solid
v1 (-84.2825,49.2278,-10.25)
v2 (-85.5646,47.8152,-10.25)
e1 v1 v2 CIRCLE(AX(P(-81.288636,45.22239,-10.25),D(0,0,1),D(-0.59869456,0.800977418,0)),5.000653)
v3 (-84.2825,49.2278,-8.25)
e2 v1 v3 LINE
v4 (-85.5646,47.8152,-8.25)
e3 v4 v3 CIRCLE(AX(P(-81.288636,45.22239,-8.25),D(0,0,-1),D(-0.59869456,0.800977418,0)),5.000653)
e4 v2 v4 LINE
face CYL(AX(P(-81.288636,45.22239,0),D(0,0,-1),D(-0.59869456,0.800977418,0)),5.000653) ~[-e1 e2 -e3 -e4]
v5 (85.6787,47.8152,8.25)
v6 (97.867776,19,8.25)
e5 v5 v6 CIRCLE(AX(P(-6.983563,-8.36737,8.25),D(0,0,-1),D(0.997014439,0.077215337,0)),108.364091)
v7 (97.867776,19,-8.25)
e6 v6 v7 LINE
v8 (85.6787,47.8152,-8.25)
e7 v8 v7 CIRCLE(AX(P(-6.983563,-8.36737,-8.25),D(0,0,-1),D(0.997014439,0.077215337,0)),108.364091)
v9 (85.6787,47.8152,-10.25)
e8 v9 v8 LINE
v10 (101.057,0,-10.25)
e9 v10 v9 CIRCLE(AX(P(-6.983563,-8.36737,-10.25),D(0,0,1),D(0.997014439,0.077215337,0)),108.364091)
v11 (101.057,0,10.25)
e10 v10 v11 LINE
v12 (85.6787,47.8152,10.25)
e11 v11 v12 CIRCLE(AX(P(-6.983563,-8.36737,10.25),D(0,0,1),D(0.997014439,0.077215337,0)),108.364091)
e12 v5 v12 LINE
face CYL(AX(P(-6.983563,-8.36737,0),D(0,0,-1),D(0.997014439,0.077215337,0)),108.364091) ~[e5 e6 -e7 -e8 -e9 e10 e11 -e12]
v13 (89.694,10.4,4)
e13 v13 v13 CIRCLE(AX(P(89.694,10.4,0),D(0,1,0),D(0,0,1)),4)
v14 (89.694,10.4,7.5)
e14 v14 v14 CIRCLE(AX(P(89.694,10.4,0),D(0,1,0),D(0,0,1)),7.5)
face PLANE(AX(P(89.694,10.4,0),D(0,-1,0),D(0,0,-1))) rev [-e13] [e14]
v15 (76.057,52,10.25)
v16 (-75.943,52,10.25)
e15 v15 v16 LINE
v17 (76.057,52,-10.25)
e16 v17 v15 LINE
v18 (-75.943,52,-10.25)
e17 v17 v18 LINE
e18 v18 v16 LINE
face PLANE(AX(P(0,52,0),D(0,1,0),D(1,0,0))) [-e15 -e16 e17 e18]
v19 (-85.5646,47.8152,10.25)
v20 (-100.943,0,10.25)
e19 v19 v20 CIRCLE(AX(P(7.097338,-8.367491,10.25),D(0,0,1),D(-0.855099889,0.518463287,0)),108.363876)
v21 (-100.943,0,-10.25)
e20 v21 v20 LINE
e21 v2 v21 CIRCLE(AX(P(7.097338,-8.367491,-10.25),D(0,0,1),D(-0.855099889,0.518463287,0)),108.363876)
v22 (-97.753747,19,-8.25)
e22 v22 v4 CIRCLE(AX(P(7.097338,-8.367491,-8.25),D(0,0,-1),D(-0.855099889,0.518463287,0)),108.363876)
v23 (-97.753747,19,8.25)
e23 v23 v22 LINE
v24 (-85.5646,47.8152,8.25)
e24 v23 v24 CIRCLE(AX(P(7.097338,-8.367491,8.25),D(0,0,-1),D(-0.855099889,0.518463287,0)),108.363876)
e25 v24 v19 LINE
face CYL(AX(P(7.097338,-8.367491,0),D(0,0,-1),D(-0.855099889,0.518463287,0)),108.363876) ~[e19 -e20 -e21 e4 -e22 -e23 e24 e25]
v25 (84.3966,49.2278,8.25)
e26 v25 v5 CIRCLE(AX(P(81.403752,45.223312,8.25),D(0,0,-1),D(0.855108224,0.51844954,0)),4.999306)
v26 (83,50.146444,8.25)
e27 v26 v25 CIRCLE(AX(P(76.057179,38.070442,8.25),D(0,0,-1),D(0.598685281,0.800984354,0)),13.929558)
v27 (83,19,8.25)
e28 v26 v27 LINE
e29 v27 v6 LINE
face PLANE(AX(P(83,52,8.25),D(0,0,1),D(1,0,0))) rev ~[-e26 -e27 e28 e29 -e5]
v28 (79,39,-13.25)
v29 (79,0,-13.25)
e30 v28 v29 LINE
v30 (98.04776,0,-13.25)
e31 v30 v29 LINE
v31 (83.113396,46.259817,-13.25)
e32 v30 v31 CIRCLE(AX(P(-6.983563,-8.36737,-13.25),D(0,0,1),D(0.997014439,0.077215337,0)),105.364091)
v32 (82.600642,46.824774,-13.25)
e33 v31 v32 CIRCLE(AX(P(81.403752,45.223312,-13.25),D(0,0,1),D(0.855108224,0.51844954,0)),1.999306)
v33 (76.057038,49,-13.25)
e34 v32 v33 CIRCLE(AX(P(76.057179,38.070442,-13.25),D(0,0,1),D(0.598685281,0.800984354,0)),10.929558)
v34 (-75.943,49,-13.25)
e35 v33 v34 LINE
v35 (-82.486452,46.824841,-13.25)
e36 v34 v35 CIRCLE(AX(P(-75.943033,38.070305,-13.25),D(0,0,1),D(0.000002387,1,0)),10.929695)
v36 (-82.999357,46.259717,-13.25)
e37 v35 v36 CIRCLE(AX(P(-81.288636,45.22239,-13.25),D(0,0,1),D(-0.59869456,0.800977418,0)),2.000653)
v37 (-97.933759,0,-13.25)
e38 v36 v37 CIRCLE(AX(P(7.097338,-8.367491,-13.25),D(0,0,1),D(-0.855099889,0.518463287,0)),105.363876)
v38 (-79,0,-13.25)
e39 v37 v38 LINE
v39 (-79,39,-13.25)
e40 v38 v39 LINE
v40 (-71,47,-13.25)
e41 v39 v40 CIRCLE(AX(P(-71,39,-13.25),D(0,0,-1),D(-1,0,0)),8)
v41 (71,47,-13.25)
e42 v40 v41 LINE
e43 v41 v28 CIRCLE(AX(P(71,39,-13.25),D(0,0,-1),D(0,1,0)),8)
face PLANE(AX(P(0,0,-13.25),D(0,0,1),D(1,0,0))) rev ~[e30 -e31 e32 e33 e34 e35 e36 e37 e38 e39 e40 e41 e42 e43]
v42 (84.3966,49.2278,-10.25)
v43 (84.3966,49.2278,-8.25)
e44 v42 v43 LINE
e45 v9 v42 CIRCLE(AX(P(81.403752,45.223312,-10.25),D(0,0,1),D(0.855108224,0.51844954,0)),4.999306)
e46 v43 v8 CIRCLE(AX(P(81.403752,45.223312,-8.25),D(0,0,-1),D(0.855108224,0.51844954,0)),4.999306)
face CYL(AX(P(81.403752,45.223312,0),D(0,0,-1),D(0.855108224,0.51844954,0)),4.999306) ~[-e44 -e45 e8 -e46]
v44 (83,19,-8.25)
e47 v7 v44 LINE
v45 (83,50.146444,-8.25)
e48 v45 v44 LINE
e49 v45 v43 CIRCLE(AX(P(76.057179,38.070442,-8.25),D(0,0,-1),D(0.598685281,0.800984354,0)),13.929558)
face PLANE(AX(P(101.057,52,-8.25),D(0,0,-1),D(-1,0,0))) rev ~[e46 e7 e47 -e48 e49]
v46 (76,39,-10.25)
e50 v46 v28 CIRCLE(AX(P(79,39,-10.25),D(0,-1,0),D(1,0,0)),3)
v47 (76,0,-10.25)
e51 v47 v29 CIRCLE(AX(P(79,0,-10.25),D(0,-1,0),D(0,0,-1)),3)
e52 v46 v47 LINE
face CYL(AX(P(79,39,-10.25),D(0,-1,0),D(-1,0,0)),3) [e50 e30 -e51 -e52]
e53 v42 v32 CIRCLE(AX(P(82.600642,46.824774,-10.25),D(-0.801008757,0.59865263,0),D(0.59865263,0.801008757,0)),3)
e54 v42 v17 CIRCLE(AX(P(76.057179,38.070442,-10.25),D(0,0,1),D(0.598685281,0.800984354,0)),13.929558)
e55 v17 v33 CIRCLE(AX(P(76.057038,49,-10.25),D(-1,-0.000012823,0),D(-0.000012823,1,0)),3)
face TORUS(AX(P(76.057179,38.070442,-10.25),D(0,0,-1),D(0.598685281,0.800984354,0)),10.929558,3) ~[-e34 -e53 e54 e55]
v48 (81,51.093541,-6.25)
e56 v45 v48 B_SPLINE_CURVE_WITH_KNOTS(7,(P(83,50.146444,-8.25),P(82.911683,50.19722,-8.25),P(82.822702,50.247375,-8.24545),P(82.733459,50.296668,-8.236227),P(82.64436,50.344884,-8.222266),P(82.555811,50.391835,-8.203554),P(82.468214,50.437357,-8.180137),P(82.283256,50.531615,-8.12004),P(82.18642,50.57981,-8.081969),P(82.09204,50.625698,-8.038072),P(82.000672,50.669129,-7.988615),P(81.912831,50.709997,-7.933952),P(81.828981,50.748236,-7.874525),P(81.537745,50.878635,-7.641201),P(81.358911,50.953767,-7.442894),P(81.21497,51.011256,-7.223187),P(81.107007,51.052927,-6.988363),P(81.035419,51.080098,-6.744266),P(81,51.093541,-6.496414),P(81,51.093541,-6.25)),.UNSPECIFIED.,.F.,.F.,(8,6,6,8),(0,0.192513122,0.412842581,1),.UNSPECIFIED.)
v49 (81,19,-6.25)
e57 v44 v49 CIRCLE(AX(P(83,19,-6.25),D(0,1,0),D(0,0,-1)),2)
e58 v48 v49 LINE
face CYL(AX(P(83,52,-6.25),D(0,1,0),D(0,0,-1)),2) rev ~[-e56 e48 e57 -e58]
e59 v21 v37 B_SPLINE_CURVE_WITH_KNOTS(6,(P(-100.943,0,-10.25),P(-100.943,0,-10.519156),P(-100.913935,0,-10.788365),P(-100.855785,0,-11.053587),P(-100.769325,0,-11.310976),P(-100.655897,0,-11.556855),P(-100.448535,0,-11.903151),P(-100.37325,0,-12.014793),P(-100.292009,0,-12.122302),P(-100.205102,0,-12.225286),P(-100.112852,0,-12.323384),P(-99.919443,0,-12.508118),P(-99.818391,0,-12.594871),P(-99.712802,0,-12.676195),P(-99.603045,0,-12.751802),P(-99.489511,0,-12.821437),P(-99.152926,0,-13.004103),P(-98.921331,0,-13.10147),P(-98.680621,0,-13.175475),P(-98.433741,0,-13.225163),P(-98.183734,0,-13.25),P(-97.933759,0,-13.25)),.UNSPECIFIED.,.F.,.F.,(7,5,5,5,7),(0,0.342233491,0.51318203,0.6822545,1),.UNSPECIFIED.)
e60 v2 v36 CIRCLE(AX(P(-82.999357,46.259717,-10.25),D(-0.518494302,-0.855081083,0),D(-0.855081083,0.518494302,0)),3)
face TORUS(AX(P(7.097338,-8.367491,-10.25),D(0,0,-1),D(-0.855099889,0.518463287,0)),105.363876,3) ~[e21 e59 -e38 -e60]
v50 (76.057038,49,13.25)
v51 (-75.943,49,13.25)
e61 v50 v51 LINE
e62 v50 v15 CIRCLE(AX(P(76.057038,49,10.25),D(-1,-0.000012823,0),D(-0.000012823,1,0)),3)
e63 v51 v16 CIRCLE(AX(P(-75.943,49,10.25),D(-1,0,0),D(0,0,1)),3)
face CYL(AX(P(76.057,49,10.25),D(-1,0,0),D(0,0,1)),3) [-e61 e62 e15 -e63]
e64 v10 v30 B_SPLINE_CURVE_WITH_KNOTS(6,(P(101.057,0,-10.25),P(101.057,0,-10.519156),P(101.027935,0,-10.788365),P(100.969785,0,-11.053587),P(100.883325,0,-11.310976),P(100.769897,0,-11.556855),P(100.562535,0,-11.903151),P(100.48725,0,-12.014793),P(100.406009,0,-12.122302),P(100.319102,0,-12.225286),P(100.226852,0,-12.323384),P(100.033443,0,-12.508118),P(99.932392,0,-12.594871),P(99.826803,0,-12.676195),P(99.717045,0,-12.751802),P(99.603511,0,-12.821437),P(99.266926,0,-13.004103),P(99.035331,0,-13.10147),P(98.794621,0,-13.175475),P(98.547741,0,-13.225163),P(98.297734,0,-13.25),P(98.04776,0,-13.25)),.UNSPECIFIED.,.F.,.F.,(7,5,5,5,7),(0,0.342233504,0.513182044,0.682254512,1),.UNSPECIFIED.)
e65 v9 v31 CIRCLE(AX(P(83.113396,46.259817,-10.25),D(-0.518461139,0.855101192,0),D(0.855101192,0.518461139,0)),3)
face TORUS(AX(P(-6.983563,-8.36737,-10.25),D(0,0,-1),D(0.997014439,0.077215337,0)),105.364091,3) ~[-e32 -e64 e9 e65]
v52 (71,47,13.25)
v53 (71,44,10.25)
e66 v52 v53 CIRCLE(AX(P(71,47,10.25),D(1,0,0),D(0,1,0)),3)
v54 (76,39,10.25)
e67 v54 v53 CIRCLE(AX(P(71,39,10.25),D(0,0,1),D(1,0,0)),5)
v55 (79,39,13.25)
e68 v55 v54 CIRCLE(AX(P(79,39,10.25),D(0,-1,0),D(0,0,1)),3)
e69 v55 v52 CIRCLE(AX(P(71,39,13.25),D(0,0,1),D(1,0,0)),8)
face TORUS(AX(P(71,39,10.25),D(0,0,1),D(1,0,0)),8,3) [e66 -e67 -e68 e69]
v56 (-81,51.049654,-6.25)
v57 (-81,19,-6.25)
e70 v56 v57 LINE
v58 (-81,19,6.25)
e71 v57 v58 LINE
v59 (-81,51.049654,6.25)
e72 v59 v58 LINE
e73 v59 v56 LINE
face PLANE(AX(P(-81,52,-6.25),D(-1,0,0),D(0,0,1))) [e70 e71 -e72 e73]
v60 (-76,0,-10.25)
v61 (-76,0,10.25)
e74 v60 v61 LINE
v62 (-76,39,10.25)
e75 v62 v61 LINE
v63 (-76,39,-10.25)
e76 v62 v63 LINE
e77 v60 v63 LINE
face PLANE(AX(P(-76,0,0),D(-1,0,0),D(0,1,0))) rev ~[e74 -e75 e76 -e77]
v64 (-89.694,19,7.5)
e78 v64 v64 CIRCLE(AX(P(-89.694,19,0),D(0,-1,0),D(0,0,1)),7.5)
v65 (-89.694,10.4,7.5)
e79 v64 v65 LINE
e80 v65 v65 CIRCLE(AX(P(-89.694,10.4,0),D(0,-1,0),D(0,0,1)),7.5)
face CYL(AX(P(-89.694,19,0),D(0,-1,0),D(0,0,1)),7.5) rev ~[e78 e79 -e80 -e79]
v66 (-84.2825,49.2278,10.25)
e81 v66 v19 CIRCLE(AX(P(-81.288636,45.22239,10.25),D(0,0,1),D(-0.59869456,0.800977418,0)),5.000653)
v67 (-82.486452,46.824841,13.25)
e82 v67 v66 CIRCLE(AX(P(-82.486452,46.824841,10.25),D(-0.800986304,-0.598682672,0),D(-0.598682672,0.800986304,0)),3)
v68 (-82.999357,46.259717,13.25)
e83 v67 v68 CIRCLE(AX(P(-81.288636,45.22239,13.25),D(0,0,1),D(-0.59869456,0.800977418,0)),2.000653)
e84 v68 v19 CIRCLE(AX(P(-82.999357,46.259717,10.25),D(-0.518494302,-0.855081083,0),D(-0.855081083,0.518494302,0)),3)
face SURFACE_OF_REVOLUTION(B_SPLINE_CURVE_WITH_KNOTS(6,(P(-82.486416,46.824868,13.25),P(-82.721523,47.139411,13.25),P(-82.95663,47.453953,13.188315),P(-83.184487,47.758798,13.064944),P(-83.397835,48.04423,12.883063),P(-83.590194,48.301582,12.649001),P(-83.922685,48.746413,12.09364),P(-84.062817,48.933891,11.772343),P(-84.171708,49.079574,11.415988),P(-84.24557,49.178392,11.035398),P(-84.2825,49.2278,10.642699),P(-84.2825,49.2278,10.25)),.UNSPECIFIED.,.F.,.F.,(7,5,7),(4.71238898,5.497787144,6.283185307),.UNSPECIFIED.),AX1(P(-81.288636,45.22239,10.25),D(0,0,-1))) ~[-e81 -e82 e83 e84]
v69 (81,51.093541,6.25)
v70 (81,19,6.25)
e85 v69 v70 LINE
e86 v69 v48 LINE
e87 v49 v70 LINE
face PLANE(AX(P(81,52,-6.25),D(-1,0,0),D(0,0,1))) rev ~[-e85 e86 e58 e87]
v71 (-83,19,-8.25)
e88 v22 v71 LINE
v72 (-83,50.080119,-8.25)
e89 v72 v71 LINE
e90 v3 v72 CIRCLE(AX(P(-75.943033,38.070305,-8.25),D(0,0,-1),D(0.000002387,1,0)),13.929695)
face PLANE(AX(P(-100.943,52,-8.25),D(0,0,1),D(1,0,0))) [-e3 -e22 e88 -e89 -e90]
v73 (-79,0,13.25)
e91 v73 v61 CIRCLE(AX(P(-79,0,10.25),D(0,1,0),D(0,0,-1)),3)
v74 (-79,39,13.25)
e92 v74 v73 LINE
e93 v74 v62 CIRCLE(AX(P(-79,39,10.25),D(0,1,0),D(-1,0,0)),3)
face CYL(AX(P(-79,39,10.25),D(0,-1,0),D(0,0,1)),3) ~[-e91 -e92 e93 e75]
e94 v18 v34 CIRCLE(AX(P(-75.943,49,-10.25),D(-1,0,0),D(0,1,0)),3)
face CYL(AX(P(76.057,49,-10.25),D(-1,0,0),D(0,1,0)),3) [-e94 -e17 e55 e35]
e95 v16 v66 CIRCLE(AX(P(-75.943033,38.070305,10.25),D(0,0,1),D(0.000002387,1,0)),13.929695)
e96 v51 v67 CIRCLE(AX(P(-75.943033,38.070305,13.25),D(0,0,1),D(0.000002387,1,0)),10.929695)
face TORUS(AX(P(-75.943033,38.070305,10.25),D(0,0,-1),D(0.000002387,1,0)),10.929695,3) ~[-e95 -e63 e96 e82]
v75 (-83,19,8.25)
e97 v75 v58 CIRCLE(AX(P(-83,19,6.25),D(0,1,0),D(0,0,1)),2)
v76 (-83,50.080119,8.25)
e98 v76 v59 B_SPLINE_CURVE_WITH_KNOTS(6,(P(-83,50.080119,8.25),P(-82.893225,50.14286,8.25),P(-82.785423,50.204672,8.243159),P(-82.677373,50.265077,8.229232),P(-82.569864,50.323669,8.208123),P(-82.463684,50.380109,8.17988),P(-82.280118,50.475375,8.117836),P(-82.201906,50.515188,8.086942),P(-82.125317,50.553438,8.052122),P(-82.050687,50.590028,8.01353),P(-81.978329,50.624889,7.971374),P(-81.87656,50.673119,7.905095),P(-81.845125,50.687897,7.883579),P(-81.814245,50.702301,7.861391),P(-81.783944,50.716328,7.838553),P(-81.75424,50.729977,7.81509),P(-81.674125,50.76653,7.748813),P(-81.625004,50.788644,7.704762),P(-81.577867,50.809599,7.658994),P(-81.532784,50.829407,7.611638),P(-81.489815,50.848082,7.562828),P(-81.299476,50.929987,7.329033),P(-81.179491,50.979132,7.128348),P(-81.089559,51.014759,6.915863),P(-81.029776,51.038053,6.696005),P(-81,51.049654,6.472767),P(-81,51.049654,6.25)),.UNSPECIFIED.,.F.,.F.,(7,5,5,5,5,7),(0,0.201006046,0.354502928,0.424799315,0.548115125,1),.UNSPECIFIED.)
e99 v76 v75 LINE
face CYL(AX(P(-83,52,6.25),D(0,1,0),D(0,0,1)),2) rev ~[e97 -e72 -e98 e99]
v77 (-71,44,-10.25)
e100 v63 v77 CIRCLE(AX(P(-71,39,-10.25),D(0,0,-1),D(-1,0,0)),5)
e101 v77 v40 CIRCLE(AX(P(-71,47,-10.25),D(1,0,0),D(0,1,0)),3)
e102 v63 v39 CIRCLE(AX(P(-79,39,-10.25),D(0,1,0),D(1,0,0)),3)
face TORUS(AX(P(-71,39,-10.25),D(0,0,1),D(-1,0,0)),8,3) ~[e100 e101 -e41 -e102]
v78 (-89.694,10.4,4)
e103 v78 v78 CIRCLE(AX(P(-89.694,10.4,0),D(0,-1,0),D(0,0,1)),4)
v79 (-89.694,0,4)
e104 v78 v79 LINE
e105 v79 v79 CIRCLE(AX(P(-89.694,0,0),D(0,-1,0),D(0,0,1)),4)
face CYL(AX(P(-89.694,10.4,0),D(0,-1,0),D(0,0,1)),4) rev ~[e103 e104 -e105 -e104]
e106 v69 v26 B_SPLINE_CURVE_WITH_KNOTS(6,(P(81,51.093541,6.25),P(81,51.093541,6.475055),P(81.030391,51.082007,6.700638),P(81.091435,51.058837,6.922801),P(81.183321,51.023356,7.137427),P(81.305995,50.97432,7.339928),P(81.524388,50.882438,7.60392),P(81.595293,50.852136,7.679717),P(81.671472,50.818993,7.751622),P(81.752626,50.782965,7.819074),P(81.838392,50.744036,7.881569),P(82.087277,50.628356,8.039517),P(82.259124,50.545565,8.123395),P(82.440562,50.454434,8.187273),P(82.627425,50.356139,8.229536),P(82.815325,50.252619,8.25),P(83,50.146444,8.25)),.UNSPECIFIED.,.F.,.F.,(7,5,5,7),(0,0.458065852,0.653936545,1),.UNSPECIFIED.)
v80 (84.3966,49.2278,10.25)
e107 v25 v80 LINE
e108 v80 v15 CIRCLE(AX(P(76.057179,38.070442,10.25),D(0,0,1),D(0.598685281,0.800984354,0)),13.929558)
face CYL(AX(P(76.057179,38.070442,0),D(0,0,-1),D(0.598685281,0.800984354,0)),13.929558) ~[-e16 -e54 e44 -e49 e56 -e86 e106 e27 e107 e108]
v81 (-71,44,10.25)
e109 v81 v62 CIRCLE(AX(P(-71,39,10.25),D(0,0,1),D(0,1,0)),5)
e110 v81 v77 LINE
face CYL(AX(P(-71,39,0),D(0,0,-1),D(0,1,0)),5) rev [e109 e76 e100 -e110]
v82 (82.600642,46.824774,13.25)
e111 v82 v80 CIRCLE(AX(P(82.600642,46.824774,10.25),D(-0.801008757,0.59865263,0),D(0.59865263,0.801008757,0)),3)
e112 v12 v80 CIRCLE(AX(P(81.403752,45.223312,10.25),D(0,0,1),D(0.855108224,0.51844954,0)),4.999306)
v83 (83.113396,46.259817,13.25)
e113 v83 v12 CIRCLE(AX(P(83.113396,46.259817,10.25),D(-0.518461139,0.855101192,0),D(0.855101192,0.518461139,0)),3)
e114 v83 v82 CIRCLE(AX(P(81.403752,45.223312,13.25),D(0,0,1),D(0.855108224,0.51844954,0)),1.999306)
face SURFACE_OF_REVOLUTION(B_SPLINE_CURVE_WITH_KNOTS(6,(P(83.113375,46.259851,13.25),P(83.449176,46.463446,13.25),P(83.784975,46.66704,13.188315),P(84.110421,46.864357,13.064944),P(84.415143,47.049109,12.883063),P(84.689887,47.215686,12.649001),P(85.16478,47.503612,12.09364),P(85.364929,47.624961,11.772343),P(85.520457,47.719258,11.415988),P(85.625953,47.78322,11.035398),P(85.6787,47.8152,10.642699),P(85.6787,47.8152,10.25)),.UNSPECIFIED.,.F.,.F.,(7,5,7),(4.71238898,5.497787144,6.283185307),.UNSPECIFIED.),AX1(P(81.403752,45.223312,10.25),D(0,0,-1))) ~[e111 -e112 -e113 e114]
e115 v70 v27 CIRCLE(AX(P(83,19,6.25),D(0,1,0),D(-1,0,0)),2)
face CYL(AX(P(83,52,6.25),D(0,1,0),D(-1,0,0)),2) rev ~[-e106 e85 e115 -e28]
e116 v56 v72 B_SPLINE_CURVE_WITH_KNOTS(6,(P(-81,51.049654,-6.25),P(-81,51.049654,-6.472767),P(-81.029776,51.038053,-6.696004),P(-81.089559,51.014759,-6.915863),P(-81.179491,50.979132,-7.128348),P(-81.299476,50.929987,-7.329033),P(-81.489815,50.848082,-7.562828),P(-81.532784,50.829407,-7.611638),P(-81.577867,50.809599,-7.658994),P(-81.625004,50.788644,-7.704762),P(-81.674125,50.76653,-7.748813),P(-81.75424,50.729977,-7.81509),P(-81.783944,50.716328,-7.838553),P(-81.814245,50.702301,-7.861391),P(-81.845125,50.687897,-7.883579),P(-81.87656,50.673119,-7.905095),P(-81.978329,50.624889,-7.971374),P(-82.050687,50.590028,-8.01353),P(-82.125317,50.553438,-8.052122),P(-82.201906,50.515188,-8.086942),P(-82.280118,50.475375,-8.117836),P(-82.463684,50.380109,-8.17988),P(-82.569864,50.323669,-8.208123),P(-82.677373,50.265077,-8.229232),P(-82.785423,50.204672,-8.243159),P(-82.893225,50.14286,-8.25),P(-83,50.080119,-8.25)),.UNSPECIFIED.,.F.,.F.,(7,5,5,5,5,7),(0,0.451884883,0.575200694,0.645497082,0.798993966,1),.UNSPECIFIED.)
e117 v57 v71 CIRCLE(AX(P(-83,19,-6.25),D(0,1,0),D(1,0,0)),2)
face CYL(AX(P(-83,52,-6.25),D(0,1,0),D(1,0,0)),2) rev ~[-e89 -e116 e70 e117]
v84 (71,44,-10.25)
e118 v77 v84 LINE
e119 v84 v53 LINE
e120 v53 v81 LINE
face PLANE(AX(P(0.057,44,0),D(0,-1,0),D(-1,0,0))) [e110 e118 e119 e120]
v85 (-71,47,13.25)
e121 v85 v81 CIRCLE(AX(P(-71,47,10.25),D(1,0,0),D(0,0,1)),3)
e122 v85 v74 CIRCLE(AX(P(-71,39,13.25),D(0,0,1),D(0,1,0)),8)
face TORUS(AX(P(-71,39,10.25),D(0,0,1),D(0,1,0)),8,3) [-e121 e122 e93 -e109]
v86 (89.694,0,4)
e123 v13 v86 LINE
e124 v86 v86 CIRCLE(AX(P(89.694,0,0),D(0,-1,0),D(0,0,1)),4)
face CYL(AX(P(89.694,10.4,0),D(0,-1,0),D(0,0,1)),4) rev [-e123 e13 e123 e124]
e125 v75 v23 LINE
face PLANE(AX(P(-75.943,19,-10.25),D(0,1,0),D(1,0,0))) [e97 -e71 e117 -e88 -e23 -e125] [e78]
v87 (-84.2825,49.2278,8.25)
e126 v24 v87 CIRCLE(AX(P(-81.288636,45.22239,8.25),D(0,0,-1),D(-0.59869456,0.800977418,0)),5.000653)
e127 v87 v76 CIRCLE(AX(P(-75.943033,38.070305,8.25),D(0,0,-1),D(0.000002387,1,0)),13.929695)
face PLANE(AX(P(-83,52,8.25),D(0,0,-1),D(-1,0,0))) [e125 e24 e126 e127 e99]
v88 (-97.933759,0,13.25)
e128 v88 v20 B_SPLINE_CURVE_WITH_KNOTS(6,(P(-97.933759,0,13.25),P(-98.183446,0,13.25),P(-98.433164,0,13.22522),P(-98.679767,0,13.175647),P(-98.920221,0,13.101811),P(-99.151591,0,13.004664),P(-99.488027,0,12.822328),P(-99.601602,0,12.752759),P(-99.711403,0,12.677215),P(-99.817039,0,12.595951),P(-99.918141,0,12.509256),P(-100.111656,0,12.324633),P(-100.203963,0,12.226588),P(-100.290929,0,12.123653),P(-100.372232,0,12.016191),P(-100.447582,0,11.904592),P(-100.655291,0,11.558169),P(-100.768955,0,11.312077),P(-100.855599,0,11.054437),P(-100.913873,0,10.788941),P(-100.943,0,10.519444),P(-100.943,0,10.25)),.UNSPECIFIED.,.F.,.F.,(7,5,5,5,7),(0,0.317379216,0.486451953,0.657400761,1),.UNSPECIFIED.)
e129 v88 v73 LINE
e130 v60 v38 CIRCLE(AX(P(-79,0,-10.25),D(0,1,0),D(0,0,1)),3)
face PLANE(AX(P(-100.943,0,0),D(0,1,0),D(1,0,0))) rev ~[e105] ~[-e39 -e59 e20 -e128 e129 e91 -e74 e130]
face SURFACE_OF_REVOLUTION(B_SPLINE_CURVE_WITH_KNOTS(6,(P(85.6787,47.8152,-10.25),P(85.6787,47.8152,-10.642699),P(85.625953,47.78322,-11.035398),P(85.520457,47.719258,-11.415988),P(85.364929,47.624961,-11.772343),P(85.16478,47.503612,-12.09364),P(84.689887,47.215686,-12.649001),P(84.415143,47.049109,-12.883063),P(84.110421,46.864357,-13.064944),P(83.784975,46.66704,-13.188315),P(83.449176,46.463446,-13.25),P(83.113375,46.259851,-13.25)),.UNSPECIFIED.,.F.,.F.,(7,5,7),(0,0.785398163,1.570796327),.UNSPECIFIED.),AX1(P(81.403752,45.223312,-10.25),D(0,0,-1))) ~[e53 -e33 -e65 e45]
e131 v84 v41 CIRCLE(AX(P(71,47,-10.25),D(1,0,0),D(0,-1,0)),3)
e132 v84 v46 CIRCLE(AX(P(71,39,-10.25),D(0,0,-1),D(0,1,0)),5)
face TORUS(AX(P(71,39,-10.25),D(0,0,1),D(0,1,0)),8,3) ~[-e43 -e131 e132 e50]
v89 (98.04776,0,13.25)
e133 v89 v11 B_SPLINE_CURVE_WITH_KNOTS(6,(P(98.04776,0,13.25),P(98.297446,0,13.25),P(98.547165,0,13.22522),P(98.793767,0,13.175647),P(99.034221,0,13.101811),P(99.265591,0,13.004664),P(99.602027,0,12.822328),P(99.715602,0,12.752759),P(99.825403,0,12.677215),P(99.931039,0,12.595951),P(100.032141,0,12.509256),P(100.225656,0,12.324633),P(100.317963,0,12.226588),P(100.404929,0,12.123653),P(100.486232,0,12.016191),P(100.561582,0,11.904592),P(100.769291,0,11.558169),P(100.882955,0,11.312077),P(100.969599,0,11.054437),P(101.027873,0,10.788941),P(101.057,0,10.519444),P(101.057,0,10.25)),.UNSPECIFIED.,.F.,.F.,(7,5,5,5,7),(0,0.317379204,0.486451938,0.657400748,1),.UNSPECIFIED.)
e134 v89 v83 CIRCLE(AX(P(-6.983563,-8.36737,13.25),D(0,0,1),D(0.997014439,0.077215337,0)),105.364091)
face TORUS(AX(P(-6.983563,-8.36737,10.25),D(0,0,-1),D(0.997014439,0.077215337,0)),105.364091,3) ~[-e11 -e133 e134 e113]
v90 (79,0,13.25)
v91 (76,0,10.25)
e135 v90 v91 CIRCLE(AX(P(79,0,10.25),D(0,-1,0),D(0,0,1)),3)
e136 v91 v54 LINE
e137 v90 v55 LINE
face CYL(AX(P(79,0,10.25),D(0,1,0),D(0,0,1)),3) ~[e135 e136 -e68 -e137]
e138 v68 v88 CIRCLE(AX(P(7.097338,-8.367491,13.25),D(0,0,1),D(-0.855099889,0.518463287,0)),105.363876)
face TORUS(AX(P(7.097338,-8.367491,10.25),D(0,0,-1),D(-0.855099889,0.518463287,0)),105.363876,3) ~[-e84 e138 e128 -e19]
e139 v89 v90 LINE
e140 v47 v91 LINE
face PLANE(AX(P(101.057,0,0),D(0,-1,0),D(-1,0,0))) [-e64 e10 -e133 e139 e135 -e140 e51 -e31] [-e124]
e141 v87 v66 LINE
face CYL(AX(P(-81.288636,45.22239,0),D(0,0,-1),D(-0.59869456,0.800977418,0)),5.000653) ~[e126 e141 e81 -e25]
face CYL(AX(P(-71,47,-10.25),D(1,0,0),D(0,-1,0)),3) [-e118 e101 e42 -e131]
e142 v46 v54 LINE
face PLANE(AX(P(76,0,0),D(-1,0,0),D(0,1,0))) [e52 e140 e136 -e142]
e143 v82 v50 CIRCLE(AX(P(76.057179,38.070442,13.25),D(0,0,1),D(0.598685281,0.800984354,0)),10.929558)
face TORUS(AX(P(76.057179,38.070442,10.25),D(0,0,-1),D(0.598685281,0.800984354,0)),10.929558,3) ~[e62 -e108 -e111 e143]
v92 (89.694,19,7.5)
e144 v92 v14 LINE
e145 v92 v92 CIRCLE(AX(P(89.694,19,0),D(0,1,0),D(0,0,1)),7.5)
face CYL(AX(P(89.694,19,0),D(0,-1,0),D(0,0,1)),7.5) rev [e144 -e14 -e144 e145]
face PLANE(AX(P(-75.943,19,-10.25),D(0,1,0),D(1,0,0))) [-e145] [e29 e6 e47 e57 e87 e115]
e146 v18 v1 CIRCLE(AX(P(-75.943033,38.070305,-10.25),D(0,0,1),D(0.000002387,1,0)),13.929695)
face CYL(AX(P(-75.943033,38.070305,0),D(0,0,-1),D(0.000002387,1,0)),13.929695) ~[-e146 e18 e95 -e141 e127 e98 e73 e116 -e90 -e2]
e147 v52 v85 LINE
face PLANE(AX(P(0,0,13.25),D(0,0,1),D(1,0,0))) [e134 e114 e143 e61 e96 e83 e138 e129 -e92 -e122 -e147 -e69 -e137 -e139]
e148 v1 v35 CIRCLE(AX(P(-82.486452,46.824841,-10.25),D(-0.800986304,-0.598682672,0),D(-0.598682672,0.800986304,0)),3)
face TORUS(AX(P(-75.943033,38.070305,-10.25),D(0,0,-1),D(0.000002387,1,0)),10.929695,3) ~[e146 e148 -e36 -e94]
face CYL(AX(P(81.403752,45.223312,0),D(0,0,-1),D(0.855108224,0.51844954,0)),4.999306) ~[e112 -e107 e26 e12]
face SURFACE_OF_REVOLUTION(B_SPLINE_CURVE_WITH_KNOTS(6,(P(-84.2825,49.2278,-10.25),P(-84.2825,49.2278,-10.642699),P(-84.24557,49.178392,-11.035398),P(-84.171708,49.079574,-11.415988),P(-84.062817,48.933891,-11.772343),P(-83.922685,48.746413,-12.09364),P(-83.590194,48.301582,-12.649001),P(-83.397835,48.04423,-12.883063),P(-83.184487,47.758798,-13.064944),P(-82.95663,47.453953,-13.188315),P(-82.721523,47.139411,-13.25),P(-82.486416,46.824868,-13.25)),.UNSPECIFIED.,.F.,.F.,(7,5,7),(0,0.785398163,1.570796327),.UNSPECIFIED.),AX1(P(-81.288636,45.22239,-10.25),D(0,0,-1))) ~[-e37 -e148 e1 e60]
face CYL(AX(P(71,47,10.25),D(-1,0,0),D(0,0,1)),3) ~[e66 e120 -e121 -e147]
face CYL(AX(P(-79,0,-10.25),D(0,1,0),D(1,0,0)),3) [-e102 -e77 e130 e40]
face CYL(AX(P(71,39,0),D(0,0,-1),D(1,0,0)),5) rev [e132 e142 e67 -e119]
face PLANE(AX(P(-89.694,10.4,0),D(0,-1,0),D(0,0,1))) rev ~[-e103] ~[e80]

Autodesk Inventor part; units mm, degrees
ref_plane "YZ Plane" through (0, 0, 0) normal (1, 0, 0) x (0, 1, 0)
ref_plane "XZ Plane" through (0, 0, 0) normal (0, 1, 0) x (-1, 0, 0)
ref_plane "XY Plane" through (0, 0, 0) normal (0, 0, 1) x (1, 0, 0)
sketch "Sketch1" plane through (0, 0, 0) normal (0, 0, 1) x (1, 0, 0)
  line L0 (0.057, 44) -> (71, 44)
  line L1 (76.057, 52) -> (0.057, 52)
  line L2 (101.057, 0) -> (76, 0)
  line L3 (76, 0) -> (76, 39)
  arc A0 (101.057, 0) -> (85.6787, 47.8152) centre (-6.9827, -8.3672) ccw
  arc A1 (84.3966, 49.2278) -> (76.057, 52) centre (76.057, 38.0701) ccw
  arc A2 (85.6787, 47.8152) -> (84.3966, 49.2278) centre (81.4032, 45.2229) ccw
  line L4 (0.057, 44) -> (-71, 44)
  line L5 (-75.943, 52) -> (0.057, 52)
  line L6 (-100.943, 0) -> (-76, 0)
  line L7 (-76, 0) -> (-76, 39)
  arc A3 (-85.5646, 47.8152) -> (-100.943, 0) centre (7.0967, -8.3672) ccw
  arc A4 (-75.943, 52) -> (-84.2825, 49.2278) centre (-75.943, 38.0701) ccw
  arc A5 (-84.2825, 49.2278) -> (-85.5646, 47.8152) centre (-81.2891, 45.2229) ccw
  arc A6 (76, 39) -> (71, 44) centre (71, 39) ccw
  arc A7 (-71, 44) -> (-76, 39) centre (-71, 39) ccw
  line L8 (0, -20.5757) -> (0, 64.8833) projected
  point P0 (0, 0)
  point P1 (76, 44)
  point P2 (0.1141, 0)
  point P3 (-76, 44)
  dimension "d1" = 44
  dimension "d2" = 8
  dimension "d4" = 5
  dimension "d5" = 152
  dimension "d10" = 5
extrude "Extrusion1" add sketch "Sketch1" along normal mid plane 26.5
fillet "Fillet1" radius 3 14 edges at (-80.3371, 51.2888, 13.25) (-84.9915, 48.5832, 13.25) (-96.0624, 24.8109, 13.25) (80.4512, 51.2888, 13.25) (85.1056, 48.5832, 13.25) (96.1764, 24.8109, 13.25) (0.057, 52, 13.25) (80.4512, 51.2888, -13.25) (85.1056, 48.5832, -13.25) (96.1764, 24.8109, -13.25) (-80.3371, 51.2888, -13.25) (-84.9915, 48.5832, -13.25) (-96.0624, 24.8109, -13.25) (0.057, 52, -13.25)
fillet "Fillet2" radius 3 6 edges at (0, 44, 13.25) (76, 19.5, 13.25) (-76, 19.5, 13.25) (-76, 19.5, -13.25) (0, 44, -13.25) (76, 19.5, -13.25)
sketch "Sketch2" plane through (-75.943, 52, -10.25) normal (0, 1, 0) x (1, 0, 0)
  line L0 (-0.057, 0) -> (-0.057, -20.5) projected
  line L1 (151.943, 0) -> (151.943, -20.5) projected
  line L2 (177, 0) -> (177, -20.5) projected
  line L3 (177, -2) -> (158.943, -2)
  line L4 (156.943, -4) -> (156.943, -16.5)
  line L5 (158.943, -18.5) -> (177, -18.5)
  line L6 (177, -18.5) -> (177, -2)
  line L7 (159.0563, 3) -> (173.9908, 3) projected
  line L8 (173.9908, -23.5) -> (159.0563, -23.5) projected
  arc A0 (158.943, -2) -> (156.943, -4) centre (158.943, -4) ccw
  arc A1 (156.943, -16.5) -> (158.943, -18.5) centre (158.943, -16.5) ccw
  line L9 (-25, 0) -> (-25, -20.5) projected
  line L10 (-25, -2) -> (-7.057, -2)
  line L11 (-5.057, -4) -> (-5.057, -16.5)
  line L12 (-7.057, -18.5) -> (-25, -18.5)
  line L13 (-25, -18.5) -> (-25, -2)
  arc A2 (-5.057, -4) -> (-7.057, -2) centre (-7.057, -4) ccw
  arc A3 (-7.057, -18.5) -> (-5.057, -16.5) centre (-7.057, -16.5) ccw
  point P0 (75.943, -10.25)
  point P1 (166.5236, 3)
  dimension "d11" = 5
  dimension "d12" = 5
  dimension "d13" = 5
  dimension "d14" = 2
  dimension "d15" = 5
  dimension "d16" = 2
extrude "Extrusion2" cut sketch "Sketch2" against normal blind 33
sketch "Sketch3" plane through (-75.943, 19, -10.25) normal (0, 1, 0) x (1, 0, 0)
  line L0 (-65.4065, -10.25) -> (217.4065, -10.25) projected
  line L1 (-5.057, -4) -> (-5.057, -16.5) projected
  line L2 (75.943, 8.3065) -> (75.943, -28.8065) projected
  point P0 (75.943, -10.25)
  point P1 (-13.751, -10.25)
  dimension "d27" = 89.694
hole "Hole1" at (-89.694, 19, 0) direction (0, -1, 0) diameter 8 end through all counterbore diameter 15 counterbore depth 8.6
mirror "Mirror1" about plane through (0, 0, 0) normal (1, 0, 0) of "Hole1"
properties part number "Handle" material "Acetal Resin, Black"
